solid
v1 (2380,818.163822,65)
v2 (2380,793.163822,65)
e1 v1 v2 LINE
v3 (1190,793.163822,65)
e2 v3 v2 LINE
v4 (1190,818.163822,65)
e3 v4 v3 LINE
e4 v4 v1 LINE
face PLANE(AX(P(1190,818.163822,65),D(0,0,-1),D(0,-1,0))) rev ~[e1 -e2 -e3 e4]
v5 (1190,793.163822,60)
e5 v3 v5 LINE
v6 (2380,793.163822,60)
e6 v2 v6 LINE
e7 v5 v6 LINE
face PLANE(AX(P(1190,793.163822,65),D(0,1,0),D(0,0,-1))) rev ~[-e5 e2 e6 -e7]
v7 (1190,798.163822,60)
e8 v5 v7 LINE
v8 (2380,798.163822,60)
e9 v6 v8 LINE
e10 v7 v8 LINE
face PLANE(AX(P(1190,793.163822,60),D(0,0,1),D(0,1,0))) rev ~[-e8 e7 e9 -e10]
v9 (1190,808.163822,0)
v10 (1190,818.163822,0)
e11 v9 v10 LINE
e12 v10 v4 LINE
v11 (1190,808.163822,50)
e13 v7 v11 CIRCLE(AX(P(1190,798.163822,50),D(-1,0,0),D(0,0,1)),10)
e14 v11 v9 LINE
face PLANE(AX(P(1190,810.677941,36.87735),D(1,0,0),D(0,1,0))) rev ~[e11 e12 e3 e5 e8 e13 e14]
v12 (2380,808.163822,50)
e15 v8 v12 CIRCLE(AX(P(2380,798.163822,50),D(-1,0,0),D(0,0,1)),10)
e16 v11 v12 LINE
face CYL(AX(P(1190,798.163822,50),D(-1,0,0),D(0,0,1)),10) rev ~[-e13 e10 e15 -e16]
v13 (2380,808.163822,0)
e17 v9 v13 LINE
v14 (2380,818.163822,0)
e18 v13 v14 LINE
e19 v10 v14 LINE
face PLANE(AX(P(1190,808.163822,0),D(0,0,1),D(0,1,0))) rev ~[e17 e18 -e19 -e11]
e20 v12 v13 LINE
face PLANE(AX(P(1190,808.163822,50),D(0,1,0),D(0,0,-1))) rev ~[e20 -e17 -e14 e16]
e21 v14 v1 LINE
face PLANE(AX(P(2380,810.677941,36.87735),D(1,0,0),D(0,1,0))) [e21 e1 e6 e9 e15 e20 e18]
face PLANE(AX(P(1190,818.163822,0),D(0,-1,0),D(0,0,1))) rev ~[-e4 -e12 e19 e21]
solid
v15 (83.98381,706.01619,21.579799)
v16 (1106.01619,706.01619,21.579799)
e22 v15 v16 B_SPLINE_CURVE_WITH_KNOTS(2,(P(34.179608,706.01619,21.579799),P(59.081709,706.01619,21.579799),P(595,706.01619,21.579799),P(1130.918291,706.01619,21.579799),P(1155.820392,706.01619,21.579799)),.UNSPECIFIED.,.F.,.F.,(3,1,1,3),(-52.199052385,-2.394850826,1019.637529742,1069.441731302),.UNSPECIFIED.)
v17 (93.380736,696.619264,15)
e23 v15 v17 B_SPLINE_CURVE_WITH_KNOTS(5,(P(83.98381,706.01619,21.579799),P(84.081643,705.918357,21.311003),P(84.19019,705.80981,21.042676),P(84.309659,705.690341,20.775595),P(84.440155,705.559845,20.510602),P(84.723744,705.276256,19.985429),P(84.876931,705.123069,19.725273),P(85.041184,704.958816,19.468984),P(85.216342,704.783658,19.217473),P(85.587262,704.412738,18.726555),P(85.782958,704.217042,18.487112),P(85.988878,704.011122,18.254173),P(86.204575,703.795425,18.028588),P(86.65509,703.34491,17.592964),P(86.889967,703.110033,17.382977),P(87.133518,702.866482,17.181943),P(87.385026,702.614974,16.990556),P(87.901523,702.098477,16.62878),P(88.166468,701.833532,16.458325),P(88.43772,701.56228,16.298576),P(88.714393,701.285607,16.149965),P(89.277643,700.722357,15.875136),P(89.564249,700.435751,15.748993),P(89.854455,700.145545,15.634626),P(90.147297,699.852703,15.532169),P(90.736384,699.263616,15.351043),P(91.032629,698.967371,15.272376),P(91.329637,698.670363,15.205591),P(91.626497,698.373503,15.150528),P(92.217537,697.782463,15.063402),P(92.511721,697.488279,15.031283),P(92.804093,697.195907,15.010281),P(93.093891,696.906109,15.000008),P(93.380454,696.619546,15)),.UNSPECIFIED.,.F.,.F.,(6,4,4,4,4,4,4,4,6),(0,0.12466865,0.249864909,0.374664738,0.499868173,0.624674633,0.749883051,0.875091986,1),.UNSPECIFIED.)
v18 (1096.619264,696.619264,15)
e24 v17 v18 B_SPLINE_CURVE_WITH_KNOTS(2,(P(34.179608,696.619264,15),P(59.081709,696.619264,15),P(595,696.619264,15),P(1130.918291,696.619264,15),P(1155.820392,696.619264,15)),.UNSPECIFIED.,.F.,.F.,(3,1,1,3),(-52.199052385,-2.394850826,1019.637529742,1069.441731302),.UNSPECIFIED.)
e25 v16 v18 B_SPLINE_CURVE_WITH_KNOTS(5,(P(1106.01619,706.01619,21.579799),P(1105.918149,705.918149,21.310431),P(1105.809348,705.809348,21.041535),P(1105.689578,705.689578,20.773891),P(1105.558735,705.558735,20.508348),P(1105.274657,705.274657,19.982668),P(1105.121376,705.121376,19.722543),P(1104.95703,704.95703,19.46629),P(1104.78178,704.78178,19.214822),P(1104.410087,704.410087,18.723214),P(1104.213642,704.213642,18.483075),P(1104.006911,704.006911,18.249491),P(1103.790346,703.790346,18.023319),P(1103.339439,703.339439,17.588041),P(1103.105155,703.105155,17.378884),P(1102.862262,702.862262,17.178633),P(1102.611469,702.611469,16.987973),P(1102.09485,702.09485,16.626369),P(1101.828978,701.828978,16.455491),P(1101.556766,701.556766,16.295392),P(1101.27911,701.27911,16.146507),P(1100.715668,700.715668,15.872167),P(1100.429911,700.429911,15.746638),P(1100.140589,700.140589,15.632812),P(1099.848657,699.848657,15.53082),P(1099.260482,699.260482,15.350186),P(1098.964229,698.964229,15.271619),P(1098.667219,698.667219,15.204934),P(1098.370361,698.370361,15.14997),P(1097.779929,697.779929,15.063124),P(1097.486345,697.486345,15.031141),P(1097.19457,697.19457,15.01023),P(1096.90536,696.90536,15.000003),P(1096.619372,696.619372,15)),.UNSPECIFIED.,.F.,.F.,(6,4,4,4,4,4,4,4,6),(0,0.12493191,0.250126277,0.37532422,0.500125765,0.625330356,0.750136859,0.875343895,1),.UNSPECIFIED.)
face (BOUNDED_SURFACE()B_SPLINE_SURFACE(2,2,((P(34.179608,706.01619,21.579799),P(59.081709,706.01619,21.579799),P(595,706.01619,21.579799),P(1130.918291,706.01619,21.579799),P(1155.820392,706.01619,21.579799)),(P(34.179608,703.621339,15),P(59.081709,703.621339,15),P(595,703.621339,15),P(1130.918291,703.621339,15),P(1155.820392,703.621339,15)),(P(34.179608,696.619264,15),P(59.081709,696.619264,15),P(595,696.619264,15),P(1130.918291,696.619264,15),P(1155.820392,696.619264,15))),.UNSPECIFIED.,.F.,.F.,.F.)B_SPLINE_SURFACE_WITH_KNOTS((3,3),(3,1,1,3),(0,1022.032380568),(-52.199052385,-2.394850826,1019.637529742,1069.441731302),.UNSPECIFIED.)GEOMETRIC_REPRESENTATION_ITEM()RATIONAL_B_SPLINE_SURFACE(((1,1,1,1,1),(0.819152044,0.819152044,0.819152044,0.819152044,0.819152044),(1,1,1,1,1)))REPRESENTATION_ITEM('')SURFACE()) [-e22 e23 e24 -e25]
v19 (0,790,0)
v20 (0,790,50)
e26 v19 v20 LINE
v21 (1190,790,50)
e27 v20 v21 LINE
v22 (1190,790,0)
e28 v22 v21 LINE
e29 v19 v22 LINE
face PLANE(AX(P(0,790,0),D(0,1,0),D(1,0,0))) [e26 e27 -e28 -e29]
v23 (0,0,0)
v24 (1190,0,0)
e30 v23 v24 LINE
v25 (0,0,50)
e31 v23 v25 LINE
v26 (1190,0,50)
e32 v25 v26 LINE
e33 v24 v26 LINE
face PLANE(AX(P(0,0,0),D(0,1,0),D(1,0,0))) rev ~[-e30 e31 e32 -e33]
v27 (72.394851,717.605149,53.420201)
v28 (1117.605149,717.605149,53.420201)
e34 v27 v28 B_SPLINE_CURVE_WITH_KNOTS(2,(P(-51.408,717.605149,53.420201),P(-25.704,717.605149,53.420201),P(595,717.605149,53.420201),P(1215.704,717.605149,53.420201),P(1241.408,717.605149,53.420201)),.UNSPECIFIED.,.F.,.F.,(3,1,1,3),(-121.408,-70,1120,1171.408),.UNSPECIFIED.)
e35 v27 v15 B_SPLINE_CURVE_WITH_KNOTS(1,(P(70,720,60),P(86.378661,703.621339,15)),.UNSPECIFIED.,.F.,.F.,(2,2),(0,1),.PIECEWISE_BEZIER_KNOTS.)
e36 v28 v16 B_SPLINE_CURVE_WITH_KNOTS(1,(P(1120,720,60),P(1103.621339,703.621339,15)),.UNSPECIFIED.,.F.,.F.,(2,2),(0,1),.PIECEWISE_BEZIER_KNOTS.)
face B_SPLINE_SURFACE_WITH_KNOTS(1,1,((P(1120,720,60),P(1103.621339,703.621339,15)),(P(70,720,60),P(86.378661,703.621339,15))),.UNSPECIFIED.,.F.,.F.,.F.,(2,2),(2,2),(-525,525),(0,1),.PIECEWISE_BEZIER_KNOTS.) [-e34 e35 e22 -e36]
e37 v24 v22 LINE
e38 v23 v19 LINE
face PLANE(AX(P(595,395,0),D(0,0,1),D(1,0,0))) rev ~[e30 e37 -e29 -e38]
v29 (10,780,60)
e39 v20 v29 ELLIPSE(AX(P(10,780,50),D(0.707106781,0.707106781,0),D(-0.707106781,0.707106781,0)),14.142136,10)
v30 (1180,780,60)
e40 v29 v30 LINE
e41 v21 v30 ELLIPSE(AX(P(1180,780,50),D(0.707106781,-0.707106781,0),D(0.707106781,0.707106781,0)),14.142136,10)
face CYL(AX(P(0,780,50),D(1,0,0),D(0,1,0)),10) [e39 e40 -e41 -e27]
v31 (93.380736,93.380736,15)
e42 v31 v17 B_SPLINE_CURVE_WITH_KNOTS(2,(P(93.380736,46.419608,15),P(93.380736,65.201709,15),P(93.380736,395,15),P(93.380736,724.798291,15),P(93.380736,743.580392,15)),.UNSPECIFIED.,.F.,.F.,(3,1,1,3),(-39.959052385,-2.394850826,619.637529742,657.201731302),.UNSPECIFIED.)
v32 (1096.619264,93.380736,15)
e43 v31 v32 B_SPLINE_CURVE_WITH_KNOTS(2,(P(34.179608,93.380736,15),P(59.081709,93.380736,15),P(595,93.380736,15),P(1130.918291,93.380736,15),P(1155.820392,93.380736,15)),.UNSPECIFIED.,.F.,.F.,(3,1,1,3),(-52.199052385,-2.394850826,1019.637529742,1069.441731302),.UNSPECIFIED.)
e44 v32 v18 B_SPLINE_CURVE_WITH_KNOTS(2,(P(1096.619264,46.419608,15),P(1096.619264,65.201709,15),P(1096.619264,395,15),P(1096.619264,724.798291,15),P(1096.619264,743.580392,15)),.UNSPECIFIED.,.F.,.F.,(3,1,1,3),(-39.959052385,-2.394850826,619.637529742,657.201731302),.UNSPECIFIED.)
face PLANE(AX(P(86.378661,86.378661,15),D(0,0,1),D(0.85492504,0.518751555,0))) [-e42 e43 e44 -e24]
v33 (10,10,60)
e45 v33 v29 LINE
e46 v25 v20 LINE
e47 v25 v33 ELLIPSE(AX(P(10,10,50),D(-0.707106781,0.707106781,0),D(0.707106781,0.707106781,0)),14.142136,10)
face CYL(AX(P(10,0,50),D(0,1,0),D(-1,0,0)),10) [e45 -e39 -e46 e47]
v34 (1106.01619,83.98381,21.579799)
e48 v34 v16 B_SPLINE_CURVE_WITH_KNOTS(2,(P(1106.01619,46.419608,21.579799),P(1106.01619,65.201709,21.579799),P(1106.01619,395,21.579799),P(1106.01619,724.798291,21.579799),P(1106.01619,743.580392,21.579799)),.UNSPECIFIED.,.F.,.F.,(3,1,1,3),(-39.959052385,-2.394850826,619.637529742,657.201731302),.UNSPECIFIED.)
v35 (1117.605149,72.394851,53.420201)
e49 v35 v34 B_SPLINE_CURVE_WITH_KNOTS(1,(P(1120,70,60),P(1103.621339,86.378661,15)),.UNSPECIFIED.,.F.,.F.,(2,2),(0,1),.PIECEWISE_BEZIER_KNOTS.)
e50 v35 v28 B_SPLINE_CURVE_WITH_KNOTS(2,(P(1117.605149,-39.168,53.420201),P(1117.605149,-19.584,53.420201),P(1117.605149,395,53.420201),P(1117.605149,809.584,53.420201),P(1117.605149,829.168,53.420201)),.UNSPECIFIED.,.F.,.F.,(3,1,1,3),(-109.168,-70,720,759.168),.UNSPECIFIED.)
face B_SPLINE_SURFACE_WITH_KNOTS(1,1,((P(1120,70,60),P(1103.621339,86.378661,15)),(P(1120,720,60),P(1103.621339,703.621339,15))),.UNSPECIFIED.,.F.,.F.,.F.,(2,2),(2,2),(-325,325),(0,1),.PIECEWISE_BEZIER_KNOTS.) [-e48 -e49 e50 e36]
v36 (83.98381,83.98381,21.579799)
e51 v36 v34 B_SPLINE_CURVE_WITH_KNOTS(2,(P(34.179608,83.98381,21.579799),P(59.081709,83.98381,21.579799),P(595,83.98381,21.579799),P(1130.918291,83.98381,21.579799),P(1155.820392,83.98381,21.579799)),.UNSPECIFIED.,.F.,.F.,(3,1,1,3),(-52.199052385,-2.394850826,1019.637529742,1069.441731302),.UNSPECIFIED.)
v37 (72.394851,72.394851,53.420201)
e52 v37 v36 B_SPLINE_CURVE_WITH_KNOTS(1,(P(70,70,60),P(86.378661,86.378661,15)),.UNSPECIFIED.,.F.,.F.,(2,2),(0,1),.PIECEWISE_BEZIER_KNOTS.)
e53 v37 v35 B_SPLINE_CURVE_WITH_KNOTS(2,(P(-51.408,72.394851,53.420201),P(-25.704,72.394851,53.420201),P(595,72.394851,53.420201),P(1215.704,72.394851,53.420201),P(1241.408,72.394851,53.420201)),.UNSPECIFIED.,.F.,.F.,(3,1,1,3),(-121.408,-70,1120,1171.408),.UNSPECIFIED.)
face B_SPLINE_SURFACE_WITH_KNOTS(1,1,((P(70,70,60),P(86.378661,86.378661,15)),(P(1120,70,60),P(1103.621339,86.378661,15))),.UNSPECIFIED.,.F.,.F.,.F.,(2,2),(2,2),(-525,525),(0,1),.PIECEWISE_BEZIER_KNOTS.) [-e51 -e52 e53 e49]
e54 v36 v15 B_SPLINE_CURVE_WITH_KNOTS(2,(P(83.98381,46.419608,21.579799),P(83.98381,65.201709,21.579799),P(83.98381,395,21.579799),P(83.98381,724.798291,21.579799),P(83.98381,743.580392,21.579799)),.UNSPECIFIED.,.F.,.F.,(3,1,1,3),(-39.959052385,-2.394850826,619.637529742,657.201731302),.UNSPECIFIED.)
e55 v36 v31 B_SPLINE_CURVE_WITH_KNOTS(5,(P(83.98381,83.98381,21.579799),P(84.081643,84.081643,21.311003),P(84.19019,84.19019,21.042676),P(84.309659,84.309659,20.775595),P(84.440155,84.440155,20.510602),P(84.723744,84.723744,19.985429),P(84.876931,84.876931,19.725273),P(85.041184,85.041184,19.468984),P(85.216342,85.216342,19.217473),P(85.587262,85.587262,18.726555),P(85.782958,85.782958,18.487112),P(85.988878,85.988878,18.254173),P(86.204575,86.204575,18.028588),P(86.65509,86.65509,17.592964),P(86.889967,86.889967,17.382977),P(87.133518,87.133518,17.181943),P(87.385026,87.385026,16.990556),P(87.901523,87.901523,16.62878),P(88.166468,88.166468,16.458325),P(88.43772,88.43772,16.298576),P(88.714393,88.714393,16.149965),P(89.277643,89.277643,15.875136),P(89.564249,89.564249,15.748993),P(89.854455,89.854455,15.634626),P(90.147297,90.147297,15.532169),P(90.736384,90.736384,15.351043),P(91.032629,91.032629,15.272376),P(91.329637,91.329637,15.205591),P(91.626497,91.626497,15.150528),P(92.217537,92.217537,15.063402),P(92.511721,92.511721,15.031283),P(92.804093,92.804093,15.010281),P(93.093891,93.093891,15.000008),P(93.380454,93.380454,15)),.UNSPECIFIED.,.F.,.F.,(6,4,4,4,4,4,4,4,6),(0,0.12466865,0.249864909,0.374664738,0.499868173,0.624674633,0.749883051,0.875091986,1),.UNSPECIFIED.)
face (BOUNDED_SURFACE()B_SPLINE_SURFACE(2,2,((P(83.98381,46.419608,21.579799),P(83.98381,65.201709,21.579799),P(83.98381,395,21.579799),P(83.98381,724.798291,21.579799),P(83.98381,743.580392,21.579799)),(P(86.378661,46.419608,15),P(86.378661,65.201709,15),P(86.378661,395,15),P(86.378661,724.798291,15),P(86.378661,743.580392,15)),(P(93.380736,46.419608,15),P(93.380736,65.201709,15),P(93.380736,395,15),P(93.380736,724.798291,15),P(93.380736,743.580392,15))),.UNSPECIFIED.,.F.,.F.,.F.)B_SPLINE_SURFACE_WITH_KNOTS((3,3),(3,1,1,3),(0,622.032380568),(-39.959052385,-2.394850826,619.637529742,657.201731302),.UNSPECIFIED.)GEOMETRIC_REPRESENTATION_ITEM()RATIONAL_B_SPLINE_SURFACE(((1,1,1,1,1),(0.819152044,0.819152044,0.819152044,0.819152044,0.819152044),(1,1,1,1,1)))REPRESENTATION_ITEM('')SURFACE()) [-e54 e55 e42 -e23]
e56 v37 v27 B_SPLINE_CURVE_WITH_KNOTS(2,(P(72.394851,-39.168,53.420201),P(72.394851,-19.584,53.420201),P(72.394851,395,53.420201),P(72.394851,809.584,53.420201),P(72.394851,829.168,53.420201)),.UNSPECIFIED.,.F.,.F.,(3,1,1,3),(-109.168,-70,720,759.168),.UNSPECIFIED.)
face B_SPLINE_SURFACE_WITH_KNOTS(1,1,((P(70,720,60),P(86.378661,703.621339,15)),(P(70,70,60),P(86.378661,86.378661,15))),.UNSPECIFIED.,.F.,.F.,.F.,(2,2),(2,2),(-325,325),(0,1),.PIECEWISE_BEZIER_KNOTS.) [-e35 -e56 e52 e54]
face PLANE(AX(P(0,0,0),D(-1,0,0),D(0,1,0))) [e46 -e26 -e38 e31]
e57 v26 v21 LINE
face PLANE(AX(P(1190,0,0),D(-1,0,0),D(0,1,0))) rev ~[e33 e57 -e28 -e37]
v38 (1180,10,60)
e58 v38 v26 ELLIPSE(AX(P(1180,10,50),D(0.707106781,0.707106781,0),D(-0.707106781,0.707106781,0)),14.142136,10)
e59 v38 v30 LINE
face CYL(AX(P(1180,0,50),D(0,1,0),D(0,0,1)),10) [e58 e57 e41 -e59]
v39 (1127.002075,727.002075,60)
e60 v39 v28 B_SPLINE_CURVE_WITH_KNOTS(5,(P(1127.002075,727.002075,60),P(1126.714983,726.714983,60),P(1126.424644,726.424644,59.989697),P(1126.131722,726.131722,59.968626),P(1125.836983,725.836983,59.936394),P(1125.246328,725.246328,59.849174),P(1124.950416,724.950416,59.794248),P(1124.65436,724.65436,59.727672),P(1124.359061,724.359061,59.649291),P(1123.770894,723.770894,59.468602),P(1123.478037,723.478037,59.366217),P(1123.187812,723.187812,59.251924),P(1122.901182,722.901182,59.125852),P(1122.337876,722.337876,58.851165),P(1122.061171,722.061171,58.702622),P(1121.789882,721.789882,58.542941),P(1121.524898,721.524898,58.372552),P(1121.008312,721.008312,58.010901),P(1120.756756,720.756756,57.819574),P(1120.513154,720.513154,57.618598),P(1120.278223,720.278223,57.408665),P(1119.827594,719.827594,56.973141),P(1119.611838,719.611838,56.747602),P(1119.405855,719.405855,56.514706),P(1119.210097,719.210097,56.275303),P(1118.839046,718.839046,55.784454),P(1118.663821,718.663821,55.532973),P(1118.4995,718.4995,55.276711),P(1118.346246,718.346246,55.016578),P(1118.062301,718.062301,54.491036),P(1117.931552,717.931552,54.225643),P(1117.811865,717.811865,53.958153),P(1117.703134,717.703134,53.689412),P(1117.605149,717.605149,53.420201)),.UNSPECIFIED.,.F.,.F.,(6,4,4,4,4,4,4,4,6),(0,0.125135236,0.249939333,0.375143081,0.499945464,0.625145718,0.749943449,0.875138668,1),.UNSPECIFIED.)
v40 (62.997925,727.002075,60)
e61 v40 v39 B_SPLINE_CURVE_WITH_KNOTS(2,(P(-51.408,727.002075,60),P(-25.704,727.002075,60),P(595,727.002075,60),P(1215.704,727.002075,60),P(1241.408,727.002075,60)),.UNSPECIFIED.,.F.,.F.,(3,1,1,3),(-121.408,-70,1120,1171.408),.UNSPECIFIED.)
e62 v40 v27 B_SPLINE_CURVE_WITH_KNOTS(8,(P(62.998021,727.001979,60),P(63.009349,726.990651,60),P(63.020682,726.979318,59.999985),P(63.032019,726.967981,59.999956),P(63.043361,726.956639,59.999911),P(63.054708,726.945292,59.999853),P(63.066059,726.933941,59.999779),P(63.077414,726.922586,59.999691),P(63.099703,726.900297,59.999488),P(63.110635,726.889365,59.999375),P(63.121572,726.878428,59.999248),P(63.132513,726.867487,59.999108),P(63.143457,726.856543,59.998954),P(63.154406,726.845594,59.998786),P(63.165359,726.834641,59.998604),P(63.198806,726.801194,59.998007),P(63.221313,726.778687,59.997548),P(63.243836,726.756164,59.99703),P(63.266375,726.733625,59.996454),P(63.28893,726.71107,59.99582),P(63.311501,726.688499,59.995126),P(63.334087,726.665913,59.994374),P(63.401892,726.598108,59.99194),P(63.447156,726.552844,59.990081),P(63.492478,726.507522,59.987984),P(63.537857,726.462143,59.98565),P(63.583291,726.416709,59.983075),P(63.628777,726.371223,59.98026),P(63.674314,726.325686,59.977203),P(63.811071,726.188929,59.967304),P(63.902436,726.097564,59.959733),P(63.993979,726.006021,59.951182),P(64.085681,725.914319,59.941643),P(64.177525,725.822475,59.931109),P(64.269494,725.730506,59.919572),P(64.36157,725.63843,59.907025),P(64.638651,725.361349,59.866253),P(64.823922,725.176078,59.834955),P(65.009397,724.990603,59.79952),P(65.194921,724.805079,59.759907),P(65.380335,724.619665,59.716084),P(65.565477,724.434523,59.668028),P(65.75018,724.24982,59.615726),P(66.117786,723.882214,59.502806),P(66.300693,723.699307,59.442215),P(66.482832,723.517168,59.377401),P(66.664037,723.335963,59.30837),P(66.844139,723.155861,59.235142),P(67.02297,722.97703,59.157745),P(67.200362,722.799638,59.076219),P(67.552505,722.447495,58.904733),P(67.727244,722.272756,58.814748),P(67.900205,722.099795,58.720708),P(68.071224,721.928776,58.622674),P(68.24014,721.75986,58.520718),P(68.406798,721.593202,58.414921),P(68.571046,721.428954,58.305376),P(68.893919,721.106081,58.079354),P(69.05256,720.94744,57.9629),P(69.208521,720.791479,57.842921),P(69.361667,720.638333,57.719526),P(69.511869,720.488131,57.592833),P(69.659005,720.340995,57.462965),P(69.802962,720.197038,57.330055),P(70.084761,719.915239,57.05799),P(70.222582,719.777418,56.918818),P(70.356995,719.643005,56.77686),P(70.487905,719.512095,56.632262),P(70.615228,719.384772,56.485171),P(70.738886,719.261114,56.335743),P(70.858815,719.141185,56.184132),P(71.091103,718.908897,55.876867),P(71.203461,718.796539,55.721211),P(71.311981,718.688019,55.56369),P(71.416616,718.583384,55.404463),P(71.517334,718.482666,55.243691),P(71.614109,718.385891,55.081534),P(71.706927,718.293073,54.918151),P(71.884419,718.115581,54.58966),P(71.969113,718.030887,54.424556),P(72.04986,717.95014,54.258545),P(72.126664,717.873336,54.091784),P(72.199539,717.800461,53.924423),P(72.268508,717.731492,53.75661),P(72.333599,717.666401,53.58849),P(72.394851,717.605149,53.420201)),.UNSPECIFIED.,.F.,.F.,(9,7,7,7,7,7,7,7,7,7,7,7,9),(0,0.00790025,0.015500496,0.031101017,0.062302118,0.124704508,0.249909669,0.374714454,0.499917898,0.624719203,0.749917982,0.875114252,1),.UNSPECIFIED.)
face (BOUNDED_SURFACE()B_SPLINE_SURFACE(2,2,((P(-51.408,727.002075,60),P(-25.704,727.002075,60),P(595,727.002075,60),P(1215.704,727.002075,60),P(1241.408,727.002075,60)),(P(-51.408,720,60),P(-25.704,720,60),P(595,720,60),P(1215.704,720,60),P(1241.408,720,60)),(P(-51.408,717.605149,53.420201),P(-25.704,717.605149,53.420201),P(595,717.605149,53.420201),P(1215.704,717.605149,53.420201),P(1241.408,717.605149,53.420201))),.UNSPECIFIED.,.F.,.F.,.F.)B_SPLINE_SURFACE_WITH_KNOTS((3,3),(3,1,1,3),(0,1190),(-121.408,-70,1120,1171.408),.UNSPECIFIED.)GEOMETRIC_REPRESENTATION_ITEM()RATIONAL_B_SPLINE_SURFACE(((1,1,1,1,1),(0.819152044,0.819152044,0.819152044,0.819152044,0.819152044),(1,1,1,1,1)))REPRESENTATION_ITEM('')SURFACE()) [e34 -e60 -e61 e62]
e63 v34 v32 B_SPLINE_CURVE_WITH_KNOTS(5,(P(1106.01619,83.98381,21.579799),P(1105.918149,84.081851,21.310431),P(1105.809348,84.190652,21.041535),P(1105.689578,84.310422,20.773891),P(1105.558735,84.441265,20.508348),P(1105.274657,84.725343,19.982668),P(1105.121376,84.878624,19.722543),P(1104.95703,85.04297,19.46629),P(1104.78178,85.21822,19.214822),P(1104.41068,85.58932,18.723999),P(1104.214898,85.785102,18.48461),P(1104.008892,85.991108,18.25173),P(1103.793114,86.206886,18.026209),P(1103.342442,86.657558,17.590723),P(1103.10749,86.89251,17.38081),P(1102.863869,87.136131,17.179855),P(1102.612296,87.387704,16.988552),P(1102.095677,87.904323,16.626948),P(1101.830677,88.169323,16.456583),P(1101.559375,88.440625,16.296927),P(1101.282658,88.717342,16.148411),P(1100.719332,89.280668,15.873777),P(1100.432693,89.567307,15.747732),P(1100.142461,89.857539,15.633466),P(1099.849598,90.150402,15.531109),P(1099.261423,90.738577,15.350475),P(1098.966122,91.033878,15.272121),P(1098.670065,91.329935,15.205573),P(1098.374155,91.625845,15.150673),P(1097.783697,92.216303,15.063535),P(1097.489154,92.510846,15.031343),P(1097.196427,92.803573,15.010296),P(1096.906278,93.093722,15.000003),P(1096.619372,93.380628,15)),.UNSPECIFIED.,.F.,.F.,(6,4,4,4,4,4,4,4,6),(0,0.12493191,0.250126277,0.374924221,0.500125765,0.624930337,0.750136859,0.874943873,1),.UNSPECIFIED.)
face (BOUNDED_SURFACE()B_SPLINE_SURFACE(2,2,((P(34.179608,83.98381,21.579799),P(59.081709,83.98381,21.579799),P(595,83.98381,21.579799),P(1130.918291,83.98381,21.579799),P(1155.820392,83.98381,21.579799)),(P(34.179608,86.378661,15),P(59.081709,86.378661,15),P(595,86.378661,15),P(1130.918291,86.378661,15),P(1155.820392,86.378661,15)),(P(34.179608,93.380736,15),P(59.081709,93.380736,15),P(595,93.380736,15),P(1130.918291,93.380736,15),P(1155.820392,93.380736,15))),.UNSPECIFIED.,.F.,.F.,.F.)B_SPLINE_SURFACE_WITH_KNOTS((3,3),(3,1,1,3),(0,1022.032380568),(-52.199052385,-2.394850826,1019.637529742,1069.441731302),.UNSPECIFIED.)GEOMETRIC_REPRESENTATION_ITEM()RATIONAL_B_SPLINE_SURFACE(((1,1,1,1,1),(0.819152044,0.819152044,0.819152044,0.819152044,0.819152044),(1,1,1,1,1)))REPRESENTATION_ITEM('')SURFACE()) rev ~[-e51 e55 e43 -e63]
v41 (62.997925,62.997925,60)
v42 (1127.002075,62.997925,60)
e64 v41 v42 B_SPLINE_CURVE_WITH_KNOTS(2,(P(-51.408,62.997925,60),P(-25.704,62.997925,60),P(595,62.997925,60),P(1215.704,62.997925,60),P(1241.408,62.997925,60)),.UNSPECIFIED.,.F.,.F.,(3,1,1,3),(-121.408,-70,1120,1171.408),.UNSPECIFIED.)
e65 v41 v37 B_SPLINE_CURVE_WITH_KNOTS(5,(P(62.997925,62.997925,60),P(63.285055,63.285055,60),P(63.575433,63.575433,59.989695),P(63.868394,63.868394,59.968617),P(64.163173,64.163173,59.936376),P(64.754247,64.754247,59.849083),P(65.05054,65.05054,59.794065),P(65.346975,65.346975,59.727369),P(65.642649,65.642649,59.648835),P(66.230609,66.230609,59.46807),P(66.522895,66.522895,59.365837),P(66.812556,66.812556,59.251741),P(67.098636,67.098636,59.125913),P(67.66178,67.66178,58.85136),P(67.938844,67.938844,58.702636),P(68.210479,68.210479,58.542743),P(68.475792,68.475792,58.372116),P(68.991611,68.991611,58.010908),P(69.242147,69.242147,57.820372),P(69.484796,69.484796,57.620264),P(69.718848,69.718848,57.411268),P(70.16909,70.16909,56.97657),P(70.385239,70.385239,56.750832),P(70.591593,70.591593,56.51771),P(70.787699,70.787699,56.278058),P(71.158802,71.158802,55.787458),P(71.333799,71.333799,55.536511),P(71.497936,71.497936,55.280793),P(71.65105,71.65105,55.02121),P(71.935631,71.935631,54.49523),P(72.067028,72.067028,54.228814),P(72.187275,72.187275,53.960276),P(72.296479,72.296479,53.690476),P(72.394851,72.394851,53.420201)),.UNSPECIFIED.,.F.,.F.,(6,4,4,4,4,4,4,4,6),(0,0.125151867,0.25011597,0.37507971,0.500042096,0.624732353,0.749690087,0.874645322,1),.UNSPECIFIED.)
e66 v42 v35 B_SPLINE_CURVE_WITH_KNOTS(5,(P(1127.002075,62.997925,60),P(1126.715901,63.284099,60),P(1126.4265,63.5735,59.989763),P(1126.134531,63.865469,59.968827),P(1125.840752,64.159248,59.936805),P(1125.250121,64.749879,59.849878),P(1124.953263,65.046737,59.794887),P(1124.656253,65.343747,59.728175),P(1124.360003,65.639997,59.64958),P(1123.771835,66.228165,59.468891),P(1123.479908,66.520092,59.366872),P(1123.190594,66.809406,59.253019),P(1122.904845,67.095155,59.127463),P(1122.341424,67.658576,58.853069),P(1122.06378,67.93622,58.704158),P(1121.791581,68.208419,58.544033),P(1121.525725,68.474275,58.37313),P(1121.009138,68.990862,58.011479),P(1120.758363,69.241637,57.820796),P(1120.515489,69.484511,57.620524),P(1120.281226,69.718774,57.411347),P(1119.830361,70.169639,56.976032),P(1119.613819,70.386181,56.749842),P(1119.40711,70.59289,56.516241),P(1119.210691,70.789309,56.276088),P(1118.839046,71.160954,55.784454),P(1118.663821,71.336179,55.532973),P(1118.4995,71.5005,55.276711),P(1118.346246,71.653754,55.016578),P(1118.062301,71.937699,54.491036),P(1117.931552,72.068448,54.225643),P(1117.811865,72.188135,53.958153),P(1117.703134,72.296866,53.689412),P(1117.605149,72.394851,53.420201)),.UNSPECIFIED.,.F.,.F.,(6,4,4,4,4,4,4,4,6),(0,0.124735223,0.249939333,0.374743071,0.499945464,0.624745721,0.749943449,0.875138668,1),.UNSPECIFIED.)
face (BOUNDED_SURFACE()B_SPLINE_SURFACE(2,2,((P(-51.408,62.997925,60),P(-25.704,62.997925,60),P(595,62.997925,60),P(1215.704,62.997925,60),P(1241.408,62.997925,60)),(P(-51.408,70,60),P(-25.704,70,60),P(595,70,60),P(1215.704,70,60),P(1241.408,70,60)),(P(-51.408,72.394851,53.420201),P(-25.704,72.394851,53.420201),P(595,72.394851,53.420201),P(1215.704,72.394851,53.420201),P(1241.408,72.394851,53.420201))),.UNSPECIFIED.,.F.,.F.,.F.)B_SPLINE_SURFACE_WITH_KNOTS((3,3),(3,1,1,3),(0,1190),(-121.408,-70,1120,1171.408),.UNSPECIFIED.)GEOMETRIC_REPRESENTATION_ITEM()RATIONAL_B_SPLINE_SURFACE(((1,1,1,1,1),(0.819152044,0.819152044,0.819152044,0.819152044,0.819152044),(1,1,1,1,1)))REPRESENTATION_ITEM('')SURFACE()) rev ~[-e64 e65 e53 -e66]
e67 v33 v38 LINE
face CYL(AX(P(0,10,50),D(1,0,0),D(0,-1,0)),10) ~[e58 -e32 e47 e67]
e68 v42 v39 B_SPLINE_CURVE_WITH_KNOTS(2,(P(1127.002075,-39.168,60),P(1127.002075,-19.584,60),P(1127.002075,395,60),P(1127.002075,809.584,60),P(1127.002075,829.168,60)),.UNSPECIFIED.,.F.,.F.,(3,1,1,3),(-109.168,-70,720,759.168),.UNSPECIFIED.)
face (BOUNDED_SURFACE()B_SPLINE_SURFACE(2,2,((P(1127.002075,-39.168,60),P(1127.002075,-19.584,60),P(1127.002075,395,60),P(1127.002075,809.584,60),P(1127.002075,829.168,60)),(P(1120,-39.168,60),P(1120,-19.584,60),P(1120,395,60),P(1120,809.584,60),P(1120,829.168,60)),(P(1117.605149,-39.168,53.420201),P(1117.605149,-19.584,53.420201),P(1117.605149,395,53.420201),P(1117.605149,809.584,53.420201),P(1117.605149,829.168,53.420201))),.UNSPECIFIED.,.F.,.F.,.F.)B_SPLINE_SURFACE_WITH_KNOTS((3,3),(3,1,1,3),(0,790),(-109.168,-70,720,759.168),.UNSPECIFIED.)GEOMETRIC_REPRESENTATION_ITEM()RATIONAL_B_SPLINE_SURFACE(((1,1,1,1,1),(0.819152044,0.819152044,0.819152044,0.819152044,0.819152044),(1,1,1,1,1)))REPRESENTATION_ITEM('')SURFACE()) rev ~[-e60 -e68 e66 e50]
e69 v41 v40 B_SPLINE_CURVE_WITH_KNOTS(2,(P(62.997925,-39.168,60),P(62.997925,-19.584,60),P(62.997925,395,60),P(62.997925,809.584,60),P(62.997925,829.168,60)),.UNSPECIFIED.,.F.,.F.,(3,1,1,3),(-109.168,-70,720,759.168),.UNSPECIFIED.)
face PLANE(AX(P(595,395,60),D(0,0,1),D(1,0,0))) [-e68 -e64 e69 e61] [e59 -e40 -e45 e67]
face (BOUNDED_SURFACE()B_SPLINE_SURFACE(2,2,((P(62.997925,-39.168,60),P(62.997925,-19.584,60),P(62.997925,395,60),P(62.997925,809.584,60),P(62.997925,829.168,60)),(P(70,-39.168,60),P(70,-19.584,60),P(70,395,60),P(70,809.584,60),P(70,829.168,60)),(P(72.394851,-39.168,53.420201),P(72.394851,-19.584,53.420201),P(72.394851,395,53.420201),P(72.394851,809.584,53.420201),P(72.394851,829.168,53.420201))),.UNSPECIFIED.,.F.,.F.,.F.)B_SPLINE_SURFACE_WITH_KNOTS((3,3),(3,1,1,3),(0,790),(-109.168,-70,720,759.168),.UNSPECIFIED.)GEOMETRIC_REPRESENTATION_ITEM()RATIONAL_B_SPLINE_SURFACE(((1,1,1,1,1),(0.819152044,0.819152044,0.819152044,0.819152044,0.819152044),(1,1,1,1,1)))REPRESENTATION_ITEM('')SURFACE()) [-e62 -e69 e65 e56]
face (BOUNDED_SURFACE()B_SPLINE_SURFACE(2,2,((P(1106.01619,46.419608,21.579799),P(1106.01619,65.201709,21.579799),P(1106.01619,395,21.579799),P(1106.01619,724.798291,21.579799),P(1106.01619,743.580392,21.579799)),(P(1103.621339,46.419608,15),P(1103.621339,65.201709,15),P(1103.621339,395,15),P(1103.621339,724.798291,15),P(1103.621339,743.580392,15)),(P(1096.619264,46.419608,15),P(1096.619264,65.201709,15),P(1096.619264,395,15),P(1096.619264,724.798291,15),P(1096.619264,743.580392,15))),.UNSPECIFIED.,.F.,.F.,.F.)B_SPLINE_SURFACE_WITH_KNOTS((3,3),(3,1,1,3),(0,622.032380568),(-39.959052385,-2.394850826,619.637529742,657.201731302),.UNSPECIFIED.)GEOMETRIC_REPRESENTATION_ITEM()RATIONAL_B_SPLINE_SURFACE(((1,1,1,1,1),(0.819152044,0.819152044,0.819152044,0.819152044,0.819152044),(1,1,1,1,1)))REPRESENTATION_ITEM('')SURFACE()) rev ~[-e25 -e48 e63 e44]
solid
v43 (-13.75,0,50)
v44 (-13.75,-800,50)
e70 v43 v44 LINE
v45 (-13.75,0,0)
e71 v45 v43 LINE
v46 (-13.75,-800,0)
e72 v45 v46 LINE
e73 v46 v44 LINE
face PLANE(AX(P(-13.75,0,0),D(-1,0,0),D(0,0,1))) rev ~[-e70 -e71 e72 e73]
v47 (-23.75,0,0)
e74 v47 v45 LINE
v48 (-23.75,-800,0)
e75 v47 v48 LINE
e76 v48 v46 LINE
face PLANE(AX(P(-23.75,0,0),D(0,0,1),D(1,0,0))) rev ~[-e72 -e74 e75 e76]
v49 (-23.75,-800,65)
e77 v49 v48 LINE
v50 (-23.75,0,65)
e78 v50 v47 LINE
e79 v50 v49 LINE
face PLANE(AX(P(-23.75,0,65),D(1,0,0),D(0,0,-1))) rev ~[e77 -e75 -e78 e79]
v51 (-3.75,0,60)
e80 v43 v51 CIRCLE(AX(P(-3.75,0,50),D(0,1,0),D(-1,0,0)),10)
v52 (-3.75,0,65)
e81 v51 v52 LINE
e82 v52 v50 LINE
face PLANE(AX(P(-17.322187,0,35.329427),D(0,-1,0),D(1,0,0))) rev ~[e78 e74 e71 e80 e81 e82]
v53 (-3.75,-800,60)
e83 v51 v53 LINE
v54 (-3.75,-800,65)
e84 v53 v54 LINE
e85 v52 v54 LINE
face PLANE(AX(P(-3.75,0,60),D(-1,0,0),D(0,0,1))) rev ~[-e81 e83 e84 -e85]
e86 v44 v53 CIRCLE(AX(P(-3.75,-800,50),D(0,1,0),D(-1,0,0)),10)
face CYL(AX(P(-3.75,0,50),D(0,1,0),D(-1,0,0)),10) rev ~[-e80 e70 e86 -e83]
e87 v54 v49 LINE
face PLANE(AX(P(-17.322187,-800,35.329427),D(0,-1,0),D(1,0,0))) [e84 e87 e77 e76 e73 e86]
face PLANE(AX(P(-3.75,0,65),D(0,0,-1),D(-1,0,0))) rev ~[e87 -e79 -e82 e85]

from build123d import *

# Parameters (mm, degrees)
F0_W     = 1190
F0_H     = 790
F1_DEPTH = 60
F2_W     = 1050
F2_H     = 650
F3_DEPTH = 45
F3_TAPER = 20
F4_R     = 10
F5_R     = 10
F7_DEPTH = 800
F9_DEPTH = 1190


with BuildPart() as f1:
    # F0 (on Top) → F1 (new body)
    with BuildSketch(Plane.XY):
        with Locations((595, 395)):
            Rectangle(F0_W, F0_H)
    extrude(amount=F1_DEPTH)

    # F2 (on face) → F3 (cut)
    with BuildSketch(Plane.XY.offset(60)):
        with Locations((595, 395)):
            Rectangle(F2_W, F2_H)
    extrude(amount=-F3_DEPTH, taper=F3_TAPER, mode=Mode.SUBTRACT)

    # F4
    f4_edges = [f1.edges().sort_by_distance(p)[0] for p in [
        (0, 395, 60),
        (595, 790, 60),
        (1190, 395, 60),
        (595, 0, 60),
        (70, 395, 60),
        (595, 720, 60),
        (1120, 395, 60),
        (595, 70, 60),
    ]]
    fillet(f4_edges, radius=F4_R)

    # F5
    f5_edges = [f1.edges().sort_by_distance(p)[0] for p in [
        (86.378661, 395, 15),
        (595, 703.621339, 15),
        (1103.621339, 395, 15),
        (595, 86.378661, 15),
    ]]
    fillet(f5_edges, radius=F5_R)


with BuildPart() as f7:
    # F6 (on Front) → F7 (new body)
    with BuildSketch(Plane.XZ):
        with BuildLine():
            Line((-23.7499997749, 65), (-23.7499997749, 0))
            Line((-23.7499997749, 0), (-13.7499997749, 0))
            Line((-13.7499997749, 0), (-13.7499997749, 50))
            ThreePointArc((-13.7499997749, 50), (-10.8210675867, 57.0710678119), (-3.7499997749, 60))
            Line((-3.7499997749, 60), (-3.7499997749, 65))
            Line((-3.7499997749, 65), (-13.7499997749, 65))
            Line((-13.7499997749, 65), (-23.7499997749, 65))
        make_face()
    extrude(amount=F7_DEPTH)


with BuildPart() as f9:
    # F8 (on face) → F9 (new body)
    with BuildSketch(Plane.YZ.offset(1190)):
        with BuildLine():
            Line((808.1638216972, 50), (808.1638216972, 0))
            Line((808.1638216972, 0), (818.1638216972, 0))
            Line((818.1638216972, 0), (818.1638216972, 50))
            Line((818.1638216972, 50), (818.1638216972, 65))
            Line((818.1638216972, 65), (793.1638216972, 65))
            Line((793.1638216972, 65), (793.1638216972, 60))
            Line((793.1638216972, 60), (798.1638216972, 60))
            ThreePointArc((798.1638216972, 60), (805.2348895091, 57.0710678119), (808.1638216972, 50))
        make_face()
    extrude(amount=F9_DEPTH)


solid = Compound([f1.part, f7.part, f9.part])
